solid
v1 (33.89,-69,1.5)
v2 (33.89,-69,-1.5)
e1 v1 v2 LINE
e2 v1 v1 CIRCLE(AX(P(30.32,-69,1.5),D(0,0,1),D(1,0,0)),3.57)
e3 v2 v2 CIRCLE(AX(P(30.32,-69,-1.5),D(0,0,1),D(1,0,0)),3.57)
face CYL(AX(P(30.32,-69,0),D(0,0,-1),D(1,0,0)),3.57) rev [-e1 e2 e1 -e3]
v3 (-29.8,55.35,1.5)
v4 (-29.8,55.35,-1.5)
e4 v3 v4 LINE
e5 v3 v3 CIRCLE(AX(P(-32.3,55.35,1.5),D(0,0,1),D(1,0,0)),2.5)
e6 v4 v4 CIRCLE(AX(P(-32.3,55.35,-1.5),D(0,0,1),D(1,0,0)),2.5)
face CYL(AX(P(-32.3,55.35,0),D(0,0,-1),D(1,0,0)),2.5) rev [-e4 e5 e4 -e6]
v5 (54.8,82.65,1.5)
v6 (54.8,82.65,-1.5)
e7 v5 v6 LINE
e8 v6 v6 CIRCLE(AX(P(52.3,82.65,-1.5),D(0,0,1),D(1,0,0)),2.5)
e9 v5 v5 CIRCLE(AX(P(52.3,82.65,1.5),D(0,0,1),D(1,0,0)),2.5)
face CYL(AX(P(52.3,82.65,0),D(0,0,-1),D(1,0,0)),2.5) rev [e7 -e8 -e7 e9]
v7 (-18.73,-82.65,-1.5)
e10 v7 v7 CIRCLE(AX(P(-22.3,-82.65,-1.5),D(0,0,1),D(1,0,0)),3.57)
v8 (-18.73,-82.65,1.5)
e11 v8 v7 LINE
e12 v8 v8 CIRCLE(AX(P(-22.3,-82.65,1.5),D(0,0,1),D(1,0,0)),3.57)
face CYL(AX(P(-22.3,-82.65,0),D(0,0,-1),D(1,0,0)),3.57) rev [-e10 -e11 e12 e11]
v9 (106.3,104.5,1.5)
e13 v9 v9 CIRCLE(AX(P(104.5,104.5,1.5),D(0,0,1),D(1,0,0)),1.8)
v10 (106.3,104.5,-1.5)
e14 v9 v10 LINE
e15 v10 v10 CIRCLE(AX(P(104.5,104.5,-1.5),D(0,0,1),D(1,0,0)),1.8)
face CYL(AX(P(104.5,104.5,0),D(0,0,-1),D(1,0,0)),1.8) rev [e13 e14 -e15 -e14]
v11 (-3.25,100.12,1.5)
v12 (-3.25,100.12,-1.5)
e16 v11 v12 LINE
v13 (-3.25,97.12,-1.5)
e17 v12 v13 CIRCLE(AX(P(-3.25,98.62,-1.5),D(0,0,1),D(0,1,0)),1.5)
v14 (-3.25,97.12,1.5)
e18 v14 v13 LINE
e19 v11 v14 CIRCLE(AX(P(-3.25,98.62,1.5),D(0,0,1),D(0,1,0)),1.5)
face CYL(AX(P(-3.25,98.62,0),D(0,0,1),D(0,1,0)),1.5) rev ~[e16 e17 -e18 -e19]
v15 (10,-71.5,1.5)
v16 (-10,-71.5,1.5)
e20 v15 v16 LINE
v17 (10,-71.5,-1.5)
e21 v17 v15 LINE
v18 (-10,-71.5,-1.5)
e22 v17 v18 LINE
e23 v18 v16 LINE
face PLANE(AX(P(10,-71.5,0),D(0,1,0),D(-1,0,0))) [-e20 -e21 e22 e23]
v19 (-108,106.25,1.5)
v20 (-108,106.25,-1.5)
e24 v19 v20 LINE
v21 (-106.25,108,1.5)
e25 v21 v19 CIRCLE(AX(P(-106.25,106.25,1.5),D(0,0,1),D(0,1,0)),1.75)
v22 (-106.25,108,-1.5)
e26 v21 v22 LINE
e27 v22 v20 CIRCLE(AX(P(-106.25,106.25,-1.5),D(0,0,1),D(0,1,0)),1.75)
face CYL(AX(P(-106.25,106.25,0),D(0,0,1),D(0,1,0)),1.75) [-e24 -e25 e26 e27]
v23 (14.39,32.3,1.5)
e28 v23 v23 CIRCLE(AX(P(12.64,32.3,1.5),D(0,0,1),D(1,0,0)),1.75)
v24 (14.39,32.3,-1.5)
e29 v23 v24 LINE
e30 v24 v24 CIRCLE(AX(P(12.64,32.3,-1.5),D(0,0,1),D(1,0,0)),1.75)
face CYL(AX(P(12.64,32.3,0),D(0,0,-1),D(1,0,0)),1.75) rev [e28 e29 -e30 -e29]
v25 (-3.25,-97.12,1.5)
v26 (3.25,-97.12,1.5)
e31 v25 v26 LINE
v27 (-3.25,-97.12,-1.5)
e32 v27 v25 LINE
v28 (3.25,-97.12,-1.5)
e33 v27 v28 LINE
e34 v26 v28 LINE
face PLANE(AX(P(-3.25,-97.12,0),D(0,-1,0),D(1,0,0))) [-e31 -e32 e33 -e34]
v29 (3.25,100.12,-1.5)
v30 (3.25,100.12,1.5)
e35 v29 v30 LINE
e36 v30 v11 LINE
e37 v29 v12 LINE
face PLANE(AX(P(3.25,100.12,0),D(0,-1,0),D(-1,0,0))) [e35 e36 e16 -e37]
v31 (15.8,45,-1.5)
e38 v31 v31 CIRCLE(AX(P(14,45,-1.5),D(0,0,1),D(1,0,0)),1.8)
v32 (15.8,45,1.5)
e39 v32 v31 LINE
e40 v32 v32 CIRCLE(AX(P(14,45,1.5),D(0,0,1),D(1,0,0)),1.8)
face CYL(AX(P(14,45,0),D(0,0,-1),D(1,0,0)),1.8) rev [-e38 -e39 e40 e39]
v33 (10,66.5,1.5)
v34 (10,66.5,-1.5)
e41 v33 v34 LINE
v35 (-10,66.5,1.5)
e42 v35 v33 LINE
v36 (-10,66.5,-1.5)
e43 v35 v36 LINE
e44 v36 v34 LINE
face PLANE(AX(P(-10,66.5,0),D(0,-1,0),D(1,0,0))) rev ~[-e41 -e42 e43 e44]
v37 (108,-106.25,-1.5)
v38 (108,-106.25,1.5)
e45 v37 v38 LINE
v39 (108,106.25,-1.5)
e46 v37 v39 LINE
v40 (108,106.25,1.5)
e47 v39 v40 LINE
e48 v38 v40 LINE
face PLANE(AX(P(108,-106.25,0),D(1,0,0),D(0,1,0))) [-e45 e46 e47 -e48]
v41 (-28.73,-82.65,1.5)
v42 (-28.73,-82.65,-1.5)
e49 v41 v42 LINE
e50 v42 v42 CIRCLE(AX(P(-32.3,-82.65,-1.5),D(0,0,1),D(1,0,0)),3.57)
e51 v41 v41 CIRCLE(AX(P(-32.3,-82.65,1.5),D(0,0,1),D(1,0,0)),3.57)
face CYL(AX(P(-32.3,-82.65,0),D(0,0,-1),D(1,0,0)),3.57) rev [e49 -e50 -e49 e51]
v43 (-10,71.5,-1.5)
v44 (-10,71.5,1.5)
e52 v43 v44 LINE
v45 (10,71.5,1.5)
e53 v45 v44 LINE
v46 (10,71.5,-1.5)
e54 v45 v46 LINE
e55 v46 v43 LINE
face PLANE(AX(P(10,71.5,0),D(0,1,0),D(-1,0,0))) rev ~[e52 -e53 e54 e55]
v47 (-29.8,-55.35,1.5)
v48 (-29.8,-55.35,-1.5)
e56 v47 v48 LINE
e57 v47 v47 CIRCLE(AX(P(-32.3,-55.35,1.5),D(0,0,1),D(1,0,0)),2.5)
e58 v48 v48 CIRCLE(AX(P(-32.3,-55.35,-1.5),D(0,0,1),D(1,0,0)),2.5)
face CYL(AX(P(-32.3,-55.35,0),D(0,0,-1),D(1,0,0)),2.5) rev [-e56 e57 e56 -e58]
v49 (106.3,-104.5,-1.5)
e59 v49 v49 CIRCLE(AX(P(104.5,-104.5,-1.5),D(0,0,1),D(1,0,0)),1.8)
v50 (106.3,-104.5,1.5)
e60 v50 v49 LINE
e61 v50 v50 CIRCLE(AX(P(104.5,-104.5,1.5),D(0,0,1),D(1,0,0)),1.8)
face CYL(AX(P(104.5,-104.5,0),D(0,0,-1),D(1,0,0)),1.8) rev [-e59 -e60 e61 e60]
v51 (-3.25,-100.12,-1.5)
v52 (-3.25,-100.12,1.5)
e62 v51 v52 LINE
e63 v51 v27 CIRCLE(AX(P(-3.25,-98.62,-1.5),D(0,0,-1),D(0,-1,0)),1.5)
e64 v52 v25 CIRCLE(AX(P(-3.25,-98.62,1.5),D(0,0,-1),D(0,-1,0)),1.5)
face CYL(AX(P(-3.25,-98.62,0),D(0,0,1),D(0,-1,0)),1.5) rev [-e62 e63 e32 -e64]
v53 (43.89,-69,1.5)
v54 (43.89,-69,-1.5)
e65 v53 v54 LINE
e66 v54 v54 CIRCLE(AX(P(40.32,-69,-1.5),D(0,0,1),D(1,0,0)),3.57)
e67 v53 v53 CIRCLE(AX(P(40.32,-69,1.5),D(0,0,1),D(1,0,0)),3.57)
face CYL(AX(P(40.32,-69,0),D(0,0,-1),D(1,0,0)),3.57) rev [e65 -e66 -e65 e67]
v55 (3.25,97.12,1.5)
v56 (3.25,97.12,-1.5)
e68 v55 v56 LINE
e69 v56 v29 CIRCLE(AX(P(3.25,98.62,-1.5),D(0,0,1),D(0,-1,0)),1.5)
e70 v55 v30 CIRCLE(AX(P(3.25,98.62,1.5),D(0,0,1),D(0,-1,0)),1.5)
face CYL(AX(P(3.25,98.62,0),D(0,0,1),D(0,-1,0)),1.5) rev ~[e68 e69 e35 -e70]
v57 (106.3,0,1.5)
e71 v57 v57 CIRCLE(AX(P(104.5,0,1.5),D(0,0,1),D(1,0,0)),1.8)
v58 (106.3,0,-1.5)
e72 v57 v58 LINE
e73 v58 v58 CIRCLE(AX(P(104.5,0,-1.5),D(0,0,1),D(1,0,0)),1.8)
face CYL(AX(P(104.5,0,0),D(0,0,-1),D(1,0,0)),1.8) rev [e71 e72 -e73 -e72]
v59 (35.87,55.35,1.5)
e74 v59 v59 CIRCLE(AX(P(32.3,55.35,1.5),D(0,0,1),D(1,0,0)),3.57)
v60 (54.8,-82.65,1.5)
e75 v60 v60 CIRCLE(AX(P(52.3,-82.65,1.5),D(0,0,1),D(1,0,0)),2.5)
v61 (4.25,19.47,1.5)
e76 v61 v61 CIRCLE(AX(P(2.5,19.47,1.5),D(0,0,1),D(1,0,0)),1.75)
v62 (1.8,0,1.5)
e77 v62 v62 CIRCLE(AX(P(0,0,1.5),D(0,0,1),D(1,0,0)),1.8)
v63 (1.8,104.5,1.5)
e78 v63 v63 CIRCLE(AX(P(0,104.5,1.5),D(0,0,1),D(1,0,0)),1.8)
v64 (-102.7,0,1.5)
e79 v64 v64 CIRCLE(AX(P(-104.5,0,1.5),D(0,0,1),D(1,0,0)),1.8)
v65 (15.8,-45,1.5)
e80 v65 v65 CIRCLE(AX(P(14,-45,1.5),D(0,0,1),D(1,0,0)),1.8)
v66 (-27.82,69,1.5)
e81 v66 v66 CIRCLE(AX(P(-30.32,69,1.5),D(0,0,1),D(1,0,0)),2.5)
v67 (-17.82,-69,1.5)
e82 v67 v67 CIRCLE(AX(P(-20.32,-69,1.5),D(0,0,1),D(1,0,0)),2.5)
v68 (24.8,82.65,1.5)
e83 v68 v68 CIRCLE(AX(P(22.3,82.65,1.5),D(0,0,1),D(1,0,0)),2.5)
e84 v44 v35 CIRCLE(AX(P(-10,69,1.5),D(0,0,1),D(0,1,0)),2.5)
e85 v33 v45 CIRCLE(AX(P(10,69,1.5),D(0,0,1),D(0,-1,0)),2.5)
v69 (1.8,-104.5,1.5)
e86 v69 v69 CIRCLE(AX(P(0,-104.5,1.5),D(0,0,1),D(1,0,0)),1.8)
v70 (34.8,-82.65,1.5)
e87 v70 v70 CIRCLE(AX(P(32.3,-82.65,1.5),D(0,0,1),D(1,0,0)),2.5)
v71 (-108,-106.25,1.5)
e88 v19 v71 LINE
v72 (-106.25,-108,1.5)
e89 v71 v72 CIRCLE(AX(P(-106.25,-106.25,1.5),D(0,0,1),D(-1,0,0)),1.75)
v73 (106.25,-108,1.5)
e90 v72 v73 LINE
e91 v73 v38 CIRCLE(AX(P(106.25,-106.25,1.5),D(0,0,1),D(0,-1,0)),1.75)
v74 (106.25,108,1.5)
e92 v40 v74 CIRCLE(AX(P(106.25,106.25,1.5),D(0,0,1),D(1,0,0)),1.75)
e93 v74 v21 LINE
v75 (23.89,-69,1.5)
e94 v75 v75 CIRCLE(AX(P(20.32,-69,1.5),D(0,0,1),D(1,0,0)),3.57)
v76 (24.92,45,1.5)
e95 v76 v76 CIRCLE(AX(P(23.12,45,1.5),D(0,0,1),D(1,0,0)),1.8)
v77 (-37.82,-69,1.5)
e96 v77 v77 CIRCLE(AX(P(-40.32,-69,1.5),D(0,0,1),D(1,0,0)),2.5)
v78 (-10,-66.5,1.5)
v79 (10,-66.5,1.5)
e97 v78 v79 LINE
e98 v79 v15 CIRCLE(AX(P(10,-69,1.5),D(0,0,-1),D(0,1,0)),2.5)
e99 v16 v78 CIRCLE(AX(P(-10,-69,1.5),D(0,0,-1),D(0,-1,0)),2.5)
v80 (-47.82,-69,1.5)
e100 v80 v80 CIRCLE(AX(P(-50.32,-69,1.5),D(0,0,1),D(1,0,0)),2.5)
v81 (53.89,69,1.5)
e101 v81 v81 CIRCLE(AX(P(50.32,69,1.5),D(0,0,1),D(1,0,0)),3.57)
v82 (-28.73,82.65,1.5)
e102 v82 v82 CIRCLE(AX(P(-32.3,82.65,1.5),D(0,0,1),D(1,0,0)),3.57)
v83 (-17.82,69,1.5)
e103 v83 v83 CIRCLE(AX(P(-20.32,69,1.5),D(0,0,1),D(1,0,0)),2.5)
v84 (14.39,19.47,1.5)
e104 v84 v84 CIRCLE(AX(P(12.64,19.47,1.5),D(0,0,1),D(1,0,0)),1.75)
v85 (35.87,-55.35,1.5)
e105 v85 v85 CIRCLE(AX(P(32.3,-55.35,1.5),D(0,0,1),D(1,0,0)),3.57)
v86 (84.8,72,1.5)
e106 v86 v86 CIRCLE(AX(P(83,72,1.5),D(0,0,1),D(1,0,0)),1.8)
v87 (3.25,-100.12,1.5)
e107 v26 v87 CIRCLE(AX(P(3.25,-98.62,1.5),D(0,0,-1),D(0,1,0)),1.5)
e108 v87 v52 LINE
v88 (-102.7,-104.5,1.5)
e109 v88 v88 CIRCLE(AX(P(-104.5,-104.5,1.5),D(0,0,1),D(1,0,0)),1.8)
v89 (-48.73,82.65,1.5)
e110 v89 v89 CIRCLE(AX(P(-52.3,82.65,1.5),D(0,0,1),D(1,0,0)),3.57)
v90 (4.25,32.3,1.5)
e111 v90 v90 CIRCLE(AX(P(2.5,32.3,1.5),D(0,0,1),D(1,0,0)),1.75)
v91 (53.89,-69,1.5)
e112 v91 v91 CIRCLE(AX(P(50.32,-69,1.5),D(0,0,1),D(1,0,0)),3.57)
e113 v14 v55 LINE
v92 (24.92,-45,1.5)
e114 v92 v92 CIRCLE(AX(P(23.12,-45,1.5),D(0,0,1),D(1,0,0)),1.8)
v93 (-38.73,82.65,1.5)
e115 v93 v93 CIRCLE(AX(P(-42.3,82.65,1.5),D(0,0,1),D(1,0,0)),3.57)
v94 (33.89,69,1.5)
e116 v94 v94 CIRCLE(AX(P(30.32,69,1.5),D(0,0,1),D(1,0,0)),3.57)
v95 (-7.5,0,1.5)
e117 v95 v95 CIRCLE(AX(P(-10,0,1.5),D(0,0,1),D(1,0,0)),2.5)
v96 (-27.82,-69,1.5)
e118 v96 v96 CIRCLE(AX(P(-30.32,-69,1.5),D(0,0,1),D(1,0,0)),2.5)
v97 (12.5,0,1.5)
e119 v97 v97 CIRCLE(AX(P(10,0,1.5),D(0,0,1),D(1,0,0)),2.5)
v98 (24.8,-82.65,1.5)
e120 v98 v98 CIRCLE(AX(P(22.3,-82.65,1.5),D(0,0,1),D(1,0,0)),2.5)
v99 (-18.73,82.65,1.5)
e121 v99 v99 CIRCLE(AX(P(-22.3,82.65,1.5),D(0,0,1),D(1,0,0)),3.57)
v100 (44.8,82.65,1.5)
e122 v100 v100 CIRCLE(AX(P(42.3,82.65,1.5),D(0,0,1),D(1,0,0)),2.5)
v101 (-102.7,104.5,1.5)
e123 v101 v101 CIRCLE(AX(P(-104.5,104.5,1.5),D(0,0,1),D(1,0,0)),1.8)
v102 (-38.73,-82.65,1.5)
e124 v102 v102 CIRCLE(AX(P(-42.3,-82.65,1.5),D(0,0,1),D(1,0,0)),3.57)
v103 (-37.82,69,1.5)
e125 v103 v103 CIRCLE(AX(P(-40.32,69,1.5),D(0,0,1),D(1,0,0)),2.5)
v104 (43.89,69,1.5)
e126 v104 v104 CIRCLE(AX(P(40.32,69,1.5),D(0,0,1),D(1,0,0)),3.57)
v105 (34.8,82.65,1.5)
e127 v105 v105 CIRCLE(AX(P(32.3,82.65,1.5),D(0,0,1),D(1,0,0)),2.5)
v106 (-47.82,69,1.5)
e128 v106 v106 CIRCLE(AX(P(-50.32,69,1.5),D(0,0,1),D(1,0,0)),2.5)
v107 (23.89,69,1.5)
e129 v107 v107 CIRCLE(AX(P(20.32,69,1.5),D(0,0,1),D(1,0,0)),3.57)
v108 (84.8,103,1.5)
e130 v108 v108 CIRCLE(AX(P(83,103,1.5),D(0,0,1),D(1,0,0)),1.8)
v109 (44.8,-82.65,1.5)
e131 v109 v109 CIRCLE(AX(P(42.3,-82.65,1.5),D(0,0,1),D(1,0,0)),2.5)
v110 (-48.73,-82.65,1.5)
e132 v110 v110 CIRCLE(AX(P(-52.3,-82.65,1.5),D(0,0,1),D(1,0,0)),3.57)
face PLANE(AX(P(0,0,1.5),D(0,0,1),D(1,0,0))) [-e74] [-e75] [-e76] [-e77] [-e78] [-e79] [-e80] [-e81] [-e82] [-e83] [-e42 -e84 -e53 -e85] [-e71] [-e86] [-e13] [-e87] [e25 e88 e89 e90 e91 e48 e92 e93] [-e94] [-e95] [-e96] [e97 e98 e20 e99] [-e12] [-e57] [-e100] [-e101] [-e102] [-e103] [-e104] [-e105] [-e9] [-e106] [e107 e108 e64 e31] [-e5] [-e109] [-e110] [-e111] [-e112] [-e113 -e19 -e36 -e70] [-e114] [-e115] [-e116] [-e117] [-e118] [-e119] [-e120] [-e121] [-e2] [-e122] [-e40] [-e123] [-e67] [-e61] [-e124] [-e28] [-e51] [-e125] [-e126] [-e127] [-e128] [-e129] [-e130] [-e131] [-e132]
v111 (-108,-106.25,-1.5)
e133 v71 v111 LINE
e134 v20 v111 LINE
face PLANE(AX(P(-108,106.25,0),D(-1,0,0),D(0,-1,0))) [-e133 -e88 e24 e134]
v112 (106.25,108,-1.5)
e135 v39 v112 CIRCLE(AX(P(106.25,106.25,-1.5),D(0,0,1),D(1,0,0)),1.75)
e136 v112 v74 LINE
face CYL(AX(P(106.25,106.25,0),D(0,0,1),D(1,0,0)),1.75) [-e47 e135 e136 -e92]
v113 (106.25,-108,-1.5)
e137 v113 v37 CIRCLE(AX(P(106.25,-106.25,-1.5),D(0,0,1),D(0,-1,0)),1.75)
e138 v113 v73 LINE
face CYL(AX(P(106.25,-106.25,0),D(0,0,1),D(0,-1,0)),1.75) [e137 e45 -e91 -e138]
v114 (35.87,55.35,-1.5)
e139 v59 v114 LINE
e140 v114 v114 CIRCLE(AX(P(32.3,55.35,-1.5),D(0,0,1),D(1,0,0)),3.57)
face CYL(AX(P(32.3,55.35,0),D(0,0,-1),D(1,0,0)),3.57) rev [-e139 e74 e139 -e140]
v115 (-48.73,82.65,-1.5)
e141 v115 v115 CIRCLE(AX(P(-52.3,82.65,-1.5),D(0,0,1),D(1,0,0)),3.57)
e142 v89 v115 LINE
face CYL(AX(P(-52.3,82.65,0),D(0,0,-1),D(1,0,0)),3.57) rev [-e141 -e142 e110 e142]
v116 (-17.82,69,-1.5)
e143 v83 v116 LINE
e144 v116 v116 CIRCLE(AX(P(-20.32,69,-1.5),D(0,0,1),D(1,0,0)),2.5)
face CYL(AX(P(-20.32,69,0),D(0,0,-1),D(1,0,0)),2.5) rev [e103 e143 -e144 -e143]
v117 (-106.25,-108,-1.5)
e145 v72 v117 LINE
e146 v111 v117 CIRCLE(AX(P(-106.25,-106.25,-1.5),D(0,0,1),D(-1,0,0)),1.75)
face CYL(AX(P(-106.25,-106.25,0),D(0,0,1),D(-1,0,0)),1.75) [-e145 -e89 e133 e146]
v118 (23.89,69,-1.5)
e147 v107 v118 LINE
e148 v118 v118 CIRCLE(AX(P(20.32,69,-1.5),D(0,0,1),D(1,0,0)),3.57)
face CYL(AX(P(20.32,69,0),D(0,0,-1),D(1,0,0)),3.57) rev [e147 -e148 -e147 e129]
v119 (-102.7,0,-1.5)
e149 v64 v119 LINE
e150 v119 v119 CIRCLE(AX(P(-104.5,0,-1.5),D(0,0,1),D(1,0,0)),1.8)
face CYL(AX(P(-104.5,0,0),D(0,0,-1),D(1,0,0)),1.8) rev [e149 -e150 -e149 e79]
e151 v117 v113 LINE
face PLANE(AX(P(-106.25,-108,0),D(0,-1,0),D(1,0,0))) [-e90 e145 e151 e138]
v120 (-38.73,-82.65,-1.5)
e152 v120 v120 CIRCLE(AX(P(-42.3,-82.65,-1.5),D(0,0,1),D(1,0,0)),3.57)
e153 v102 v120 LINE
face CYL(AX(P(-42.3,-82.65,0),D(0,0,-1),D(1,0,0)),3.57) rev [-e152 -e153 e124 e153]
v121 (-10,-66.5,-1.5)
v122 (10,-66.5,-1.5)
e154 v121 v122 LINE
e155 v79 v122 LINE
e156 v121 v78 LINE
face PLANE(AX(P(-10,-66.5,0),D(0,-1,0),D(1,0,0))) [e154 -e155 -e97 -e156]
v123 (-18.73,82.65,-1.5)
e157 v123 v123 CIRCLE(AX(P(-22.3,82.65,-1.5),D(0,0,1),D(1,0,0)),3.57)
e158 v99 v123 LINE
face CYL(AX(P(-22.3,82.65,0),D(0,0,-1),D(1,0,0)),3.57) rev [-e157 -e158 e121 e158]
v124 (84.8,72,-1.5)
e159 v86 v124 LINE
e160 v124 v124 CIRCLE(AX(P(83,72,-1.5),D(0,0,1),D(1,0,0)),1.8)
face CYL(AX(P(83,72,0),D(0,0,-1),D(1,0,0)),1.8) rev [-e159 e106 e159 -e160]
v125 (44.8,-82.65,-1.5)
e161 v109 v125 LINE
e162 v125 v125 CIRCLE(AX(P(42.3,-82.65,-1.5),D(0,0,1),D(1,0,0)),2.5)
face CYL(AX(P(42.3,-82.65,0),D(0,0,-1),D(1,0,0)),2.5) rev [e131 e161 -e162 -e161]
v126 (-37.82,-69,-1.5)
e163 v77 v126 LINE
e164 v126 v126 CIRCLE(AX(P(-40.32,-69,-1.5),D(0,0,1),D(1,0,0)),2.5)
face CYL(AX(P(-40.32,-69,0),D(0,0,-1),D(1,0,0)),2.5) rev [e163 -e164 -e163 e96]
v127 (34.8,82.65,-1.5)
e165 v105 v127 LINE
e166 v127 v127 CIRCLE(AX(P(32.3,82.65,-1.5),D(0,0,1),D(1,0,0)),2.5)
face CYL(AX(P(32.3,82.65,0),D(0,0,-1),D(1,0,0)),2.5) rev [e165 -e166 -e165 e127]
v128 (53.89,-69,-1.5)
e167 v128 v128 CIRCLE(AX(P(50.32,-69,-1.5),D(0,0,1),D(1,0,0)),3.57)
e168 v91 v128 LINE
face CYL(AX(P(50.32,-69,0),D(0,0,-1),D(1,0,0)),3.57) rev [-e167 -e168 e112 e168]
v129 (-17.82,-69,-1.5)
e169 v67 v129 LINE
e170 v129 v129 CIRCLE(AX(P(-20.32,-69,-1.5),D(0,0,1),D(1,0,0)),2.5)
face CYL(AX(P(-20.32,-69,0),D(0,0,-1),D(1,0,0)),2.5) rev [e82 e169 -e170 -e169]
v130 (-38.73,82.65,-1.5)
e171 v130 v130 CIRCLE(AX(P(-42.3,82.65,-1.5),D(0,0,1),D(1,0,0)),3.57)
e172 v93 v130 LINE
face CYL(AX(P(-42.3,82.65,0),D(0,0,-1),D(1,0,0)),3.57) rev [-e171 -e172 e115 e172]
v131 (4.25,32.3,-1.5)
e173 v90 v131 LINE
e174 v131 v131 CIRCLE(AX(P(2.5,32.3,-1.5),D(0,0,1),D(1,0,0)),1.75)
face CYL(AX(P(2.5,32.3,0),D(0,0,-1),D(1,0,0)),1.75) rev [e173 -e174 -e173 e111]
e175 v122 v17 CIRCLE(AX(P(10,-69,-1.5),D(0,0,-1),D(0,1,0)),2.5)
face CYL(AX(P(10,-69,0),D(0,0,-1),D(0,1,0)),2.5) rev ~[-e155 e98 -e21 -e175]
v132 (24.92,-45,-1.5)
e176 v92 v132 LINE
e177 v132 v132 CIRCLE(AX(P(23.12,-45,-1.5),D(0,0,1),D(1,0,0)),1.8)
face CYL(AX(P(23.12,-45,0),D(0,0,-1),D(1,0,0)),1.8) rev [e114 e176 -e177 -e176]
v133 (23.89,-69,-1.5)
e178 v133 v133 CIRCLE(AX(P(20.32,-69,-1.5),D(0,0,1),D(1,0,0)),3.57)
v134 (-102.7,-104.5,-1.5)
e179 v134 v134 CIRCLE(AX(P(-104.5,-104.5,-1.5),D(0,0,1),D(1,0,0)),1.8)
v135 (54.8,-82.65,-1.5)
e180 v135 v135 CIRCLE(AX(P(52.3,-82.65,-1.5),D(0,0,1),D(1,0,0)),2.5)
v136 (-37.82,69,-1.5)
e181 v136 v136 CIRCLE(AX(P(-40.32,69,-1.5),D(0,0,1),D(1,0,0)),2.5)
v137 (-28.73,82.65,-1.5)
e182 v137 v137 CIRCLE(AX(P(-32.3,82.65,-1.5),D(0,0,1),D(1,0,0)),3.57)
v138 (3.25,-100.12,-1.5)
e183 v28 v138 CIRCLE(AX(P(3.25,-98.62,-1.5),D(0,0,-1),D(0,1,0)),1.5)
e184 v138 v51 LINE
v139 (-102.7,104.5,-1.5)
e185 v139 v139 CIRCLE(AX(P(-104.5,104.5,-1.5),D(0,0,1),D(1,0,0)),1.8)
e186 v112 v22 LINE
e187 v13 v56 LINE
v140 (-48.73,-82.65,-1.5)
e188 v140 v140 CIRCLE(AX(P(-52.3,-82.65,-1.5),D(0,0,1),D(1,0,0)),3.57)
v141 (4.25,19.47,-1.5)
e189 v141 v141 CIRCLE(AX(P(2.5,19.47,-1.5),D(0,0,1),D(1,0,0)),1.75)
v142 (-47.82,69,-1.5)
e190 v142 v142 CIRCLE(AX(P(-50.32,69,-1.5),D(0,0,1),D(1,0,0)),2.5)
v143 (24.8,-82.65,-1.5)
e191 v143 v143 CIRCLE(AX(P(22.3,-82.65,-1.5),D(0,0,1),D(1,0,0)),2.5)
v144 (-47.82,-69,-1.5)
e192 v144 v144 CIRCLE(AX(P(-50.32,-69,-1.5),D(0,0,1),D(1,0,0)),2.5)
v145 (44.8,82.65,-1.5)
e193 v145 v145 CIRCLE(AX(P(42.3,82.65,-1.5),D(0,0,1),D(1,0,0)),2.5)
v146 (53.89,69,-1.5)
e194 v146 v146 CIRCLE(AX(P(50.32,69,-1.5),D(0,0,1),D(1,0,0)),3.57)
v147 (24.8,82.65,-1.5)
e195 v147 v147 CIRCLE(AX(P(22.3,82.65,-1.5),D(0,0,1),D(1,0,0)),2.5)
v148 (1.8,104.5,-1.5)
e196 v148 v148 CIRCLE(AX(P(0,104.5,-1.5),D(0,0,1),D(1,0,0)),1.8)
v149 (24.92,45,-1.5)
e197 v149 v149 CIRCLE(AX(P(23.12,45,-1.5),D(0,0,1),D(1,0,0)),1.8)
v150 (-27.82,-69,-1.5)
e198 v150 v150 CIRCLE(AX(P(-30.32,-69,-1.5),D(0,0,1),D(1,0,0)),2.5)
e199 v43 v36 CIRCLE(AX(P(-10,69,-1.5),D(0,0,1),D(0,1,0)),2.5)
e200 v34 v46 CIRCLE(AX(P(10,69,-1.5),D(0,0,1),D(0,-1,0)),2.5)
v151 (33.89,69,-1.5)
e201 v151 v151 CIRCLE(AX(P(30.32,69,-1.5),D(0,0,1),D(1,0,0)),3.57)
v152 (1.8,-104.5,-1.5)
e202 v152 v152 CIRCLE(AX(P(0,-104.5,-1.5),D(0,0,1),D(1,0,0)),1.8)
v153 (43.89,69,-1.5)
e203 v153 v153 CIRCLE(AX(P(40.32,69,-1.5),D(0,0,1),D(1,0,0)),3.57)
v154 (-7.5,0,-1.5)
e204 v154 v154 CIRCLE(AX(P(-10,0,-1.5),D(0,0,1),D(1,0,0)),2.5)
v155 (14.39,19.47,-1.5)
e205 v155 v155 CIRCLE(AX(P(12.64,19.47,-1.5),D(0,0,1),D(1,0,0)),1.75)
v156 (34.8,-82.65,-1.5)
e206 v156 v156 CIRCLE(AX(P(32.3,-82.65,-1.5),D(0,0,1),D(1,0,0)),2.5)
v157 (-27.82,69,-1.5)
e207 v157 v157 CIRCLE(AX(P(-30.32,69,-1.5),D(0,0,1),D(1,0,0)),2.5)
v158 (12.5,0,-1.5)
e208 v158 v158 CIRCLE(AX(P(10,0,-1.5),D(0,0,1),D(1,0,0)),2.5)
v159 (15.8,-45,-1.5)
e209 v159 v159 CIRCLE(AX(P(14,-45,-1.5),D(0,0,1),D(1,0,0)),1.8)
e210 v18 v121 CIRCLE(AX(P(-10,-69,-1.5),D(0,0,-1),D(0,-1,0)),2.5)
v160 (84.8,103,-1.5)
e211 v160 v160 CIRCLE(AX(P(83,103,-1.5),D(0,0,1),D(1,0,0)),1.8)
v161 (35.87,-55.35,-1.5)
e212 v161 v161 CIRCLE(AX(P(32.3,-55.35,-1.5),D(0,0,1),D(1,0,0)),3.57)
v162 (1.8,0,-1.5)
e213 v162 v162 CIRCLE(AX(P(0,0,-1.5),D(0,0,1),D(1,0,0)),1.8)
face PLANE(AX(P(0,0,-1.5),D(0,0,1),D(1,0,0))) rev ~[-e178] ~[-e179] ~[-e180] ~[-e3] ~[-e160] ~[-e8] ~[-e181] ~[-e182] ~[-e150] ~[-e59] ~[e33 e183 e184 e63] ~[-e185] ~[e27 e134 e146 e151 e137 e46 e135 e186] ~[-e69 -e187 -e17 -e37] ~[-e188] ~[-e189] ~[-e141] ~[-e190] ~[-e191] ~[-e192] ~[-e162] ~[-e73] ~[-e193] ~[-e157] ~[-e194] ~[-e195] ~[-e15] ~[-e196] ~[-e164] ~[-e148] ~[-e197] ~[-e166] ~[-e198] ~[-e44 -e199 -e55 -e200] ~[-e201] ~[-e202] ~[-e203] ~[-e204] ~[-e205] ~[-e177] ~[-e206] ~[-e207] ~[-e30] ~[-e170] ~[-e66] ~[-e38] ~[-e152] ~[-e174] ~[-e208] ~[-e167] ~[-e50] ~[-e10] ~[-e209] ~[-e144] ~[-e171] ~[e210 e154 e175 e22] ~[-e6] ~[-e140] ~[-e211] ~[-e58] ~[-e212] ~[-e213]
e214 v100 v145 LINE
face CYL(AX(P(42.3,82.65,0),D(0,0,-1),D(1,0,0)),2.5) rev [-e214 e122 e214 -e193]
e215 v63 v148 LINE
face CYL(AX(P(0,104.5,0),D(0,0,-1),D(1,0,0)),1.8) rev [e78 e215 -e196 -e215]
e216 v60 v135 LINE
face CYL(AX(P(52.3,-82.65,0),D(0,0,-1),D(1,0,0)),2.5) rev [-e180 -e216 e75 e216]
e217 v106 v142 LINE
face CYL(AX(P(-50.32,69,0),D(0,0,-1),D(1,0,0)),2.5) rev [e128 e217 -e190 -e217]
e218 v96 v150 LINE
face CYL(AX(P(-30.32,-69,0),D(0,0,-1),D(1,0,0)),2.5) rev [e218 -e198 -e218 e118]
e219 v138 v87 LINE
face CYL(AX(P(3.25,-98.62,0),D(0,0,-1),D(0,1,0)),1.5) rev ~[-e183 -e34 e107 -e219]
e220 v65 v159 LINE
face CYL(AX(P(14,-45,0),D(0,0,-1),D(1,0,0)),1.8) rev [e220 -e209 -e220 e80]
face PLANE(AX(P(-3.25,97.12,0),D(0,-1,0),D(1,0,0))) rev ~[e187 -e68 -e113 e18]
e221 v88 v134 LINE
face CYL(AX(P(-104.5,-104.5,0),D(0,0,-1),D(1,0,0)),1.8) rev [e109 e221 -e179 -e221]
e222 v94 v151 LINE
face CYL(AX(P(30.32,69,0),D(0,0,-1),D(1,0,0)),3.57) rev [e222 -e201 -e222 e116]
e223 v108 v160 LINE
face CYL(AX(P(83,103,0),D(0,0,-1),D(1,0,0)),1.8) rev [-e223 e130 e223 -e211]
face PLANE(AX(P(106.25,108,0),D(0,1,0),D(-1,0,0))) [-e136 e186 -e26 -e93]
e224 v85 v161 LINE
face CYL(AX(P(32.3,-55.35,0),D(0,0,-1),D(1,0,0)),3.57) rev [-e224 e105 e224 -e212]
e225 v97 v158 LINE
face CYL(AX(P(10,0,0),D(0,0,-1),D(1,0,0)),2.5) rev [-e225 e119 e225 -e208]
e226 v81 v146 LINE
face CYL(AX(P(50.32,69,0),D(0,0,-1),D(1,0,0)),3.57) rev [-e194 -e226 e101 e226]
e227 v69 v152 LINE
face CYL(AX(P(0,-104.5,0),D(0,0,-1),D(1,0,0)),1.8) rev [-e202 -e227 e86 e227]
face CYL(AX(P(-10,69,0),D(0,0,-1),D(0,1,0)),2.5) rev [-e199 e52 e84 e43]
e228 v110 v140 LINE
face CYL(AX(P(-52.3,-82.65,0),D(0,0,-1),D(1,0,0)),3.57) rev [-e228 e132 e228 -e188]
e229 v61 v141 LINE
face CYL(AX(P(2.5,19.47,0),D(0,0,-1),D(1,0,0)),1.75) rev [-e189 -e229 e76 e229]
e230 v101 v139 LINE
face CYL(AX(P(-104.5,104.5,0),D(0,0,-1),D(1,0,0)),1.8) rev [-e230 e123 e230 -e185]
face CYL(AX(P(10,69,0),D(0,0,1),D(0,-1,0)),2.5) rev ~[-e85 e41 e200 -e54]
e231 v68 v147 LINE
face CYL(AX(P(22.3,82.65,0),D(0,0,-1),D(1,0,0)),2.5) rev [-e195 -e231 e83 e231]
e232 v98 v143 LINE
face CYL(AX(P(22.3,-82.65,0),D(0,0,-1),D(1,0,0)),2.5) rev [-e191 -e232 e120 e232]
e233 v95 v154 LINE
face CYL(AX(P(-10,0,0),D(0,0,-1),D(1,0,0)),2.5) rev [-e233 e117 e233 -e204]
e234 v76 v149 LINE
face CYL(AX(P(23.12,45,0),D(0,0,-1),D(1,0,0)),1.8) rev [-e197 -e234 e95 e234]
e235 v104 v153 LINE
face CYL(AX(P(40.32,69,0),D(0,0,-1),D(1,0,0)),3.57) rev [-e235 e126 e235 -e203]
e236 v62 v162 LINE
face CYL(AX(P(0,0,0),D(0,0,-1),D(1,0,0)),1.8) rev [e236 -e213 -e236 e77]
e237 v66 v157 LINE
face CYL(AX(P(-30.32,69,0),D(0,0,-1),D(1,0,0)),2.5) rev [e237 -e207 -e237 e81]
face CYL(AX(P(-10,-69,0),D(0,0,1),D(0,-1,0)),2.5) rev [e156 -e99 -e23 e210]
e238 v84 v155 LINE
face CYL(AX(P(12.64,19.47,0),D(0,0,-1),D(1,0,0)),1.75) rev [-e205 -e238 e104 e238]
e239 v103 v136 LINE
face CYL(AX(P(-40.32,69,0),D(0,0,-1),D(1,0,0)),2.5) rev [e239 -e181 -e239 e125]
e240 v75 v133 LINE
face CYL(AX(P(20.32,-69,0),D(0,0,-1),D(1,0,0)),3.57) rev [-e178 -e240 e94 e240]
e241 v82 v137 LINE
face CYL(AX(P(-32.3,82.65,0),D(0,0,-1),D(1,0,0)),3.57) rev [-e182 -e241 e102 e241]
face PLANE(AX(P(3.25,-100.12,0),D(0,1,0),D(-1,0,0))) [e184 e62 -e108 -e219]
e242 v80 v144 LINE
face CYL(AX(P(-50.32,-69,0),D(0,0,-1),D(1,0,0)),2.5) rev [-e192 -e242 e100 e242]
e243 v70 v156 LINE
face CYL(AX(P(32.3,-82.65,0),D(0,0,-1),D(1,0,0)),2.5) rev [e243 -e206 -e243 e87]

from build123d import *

# Parameters (mm, degrees)
SKETCH1_R           = 1.8
SKETCH1_R_2         = 3.57
SKETCH1_R_3         = 2.5
SKETCH1_R_4         = 1.75
BOSS_EXTRUDE1_DEPTH = 1.5


with BuildPart() as part:
    # Sketch1 → Boss-Extrude1 (new body, symmetric)
    with BuildSketch(Plane.XY):
        with BuildLine():
            Line((-106.25, -108), (106.25, -108))
            ThreePointArc((106.25, -108), (107.487436867, -107.487436867), (108, -106.25))
            Line((108, -106.25), (108, 106.25))
            ThreePointArc((108, 106.25), (107.487436867, 107.487436867), (106.25, 108))
            Line((106.25, 108), (-106.25, 108))
            ThreePointArc((-106.25, 108), (-107.487436867, 107.487436867), (-108, 106.25))
            Line((-108, 106.25), (-108, -106.25))
            ThreePointArc((-108, -106.25), (-107.487436867, -107.487436867), (-106.25, -108))
        make_face()
        with Locations((-104.5, 104.5)):
            Circle(SKETCH1_R, mode=Mode.SUBTRACT)
        with Locations((0, 104.5)):
            Circle(SKETCH1_R, mode=Mode.SUBTRACT)
        with Locations((104.5, 104.5)):
            Circle(SKETCH1_R, mode=Mode.SUBTRACT)
        with Locations((-104.5, 0)):
            Circle(SKETCH1_R, mode=Mode.SUBTRACT)
        Circle(SKETCH1_R, mode=Mode.SUBTRACT)
        with Locations((104.5, 0)):
            Circle(SKETCH1_R, mode=Mode.SUBTRACT)
        with Locations((-104.5, -104.5)):
            Circle(SKETCH1_R, mode=Mode.SUBTRACT)
        with Locations((0, -104.5)):
            Circle(SKETCH1_R, mode=Mode.SUBTRACT)
        with Locations((104.5, -104.5)):
            Circle(SKETCH1_R, mode=Mode.SUBTRACT)
        with Locations((-52.3, -82.65)):
            Circle(SKETCH1_R_2, mode=Mode.SUBTRACT)
        with Locations((-42.3, -82.65)):
            Circle(SKETCH1_R_2, mode=Mode.SUBTRACT)
        with Locations((-32.3, -82.65)):
            Circle(SKETCH1_R_2, mode=Mode.SUBTRACT)
        with Locations((-22.3, -82.65)):
            Circle(SKETCH1_R_2, mode=Mode.SUBTRACT)
        with Locations((-50.32, -69)):
            Circle(SKETCH1_R_3, mode=Mode.SUBTRACT)
        with Locations((-40.32, -69)):
            Circle(SKETCH1_R_3, mode=Mode.SUBTRACT)
        with Locations((-30.32, -69)):
            Circle(SKETCH1_R_3, mode=Mode.SUBTRACT)
        with Locations((-20.32, -69)):
            Circle(SKETCH1_R_3, mode=Mode.SUBTRACT)
        with Locations((42.3, -82.65)):
            Circle(SKETCH1_R_3, mode=Mode.SUBTRACT)
        with Locations((32.3, -82.65)):
            Circle(SKETCH1_R_3, mode=Mode.SUBTRACT)
        with Locations((22.3, -82.65)):
            Circle(SKETCH1_R_3, mode=Mode.SUBTRACT)
        with Locations((52.3, -82.65)):
            Circle(SKETCH1_R_3, mode=Mode.SUBTRACT)
        with Locations((50.32, -69)):
            Circle(SKETCH1_R_2, mode=Mode.SUBTRACT)
        with Locations((40.32, -69)):
            Circle(SKETCH1_R_2, mode=Mode.SUBTRACT)
        with Locations((30.32, -69)):
            Circle(SKETCH1_R_2, mode=Mode.SUBTRACT)
        with Locations((20.32, -69)):
            Circle(SKETCH1_R_2, mode=Mode.SUBTRACT)
        with Locations((-32.3, -55.35)):
            Circle(SKETCH1_R_3, mode=Mode.SUBTRACT)
        with Locations((32.3, -55.35)):
            Circle(SKETCH1_R_2, mode=Mode.SUBTRACT)
        with Locations((14, -45)):
            Circle(SKETCH1_R, mode=Mode.SUBTRACT)
        with Locations((23.12, -45)):
            Circle(SKETCH1_R, mode=Mode.SUBTRACT)
        with Locations((-10, 0)):
            Circle(SKETCH1_R_3, mode=Mode.SUBTRACT)
        with Locations((10, 0)):
            Circle(SKETCH1_R_3, mode=Mode.SUBTRACT)
        with Locations((2.5, 32.3)):
            Circle(SKETCH1_R_4, mode=Mode.SUBTRACT)
        with Locations((12.64, 32.3)):
            Circle(SKETCH1_R_4, mode=Mode.SUBTRACT)
        with Locations((2.5, 19.47)):
            Circle(SKETCH1_R_4, mode=Mode.SUBTRACT)
        with Locations((12.64, 19.47)):
            Circle(SKETCH1_R_4, mode=Mode.SUBTRACT)
        with Locations((23.12, 45)):
            Circle(SKETCH1_R, mode=Mode.SUBTRACT)
        with Locations((14, 45)):
            Circle(SKETCH1_R, mode=Mode.SUBTRACT)
        with Locations((32.3, 55.35)):
            Circle(SKETCH1_R_2, mode=Mode.SUBTRACT)
        with Locations((-32.3, 55.35)):
            Circle(SKETCH1_R_3, mode=Mode.SUBTRACT)
        with Locations((20.32, 69)):
            Circle(SKETCH1_R_2, mode=Mode.SUBTRACT)
        with Locations((30.32, 69)):
            Circle(SKETCH1_R_2, mode=Mode.SUBTRACT)
        with Locations((40.32, 69)):
            Circle(SKETCH1_R_2, mode=Mode.SUBTRACT)
        with Locations((50.32, 69)):
            Circle(SKETCH1_R_2, mode=Mode.SUBTRACT)
        with Locations((52.3, 82.65)):
            Circle(SKETCH1_R_3, mode=Mode.SUBTRACT)
        with Locations((22.3, 82.65)):
            Circle(SKETCH1_R_3, mode=Mode.SUBTRACT)
        with Locations((32.3, 82.65)):
            Circle(SKETCH1_R_3, mode=Mode.SUBTRACT)
        with Locations((42.3, 82.65)):
            Circle(SKETCH1_R_3, mode=Mode.SUBTRACT)
        with Locations((-20.32, 69)):
            Circle(SKETCH1_R_3, mode=Mode.SUBTRACT)
        with Locations((-30.32, 69)):
            Circle(SKETCH1_R_3, mode=Mode.SUBTRACT)
        with Locations((-40.32, 69)):
            Circle(SKETCH1_R_3, mode=Mode.SUBTRACT)
        with Locations((-50.32, 69)):
            Circle(SKETCH1_R_3, mode=Mode.SUBTRACT)
        with Locations((-22.3, 82.65)):
            Circle(SKETCH1_R_2, mode=Mode.SUBTRACT)
        with Locations((-32.3, 82.65)):
            Circle(SKETCH1_R_2, mode=Mode.SUBTRACT)
        with Locations((-42.3, 82.65)):
            Circle(SKETCH1_R_2, mode=Mode.SUBTRACT)
        with Locations((-52.3, 82.65)):
            Circle(SKETCH1_R_2, mode=Mode.SUBTRACT)
        with Locations((83, 103)):
            Circle(SKETCH1_R, mode=Mode.SUBTRACT)
        with Locations((83, 72)):
            Circle(SKETCH1_R, mode=Mode.SUBTRACT)
        with BuildLine():
            Line((-3.25, -97.12), (3.25, -97.12))
            ThreePointArc((3.25, -97.12), (4.75, -98.62), (3.25, -100.12))
            Line((3.25, -100.12), (-3.25, -100.12))
            ThreePointArc((-3.25, -100.12), (-4.75, -98.62), (-3.25, -97.12))
        make_face(mode=Mode.SUBTRACT)
        with BuildLine():
            Line((-10, -66.5), (10, -66.5))
            ThreePointArc((10, -66.5), (12.5, -69), (10, -71.5))
            Line((10, -71.5), (-10, -71.5))
            ThreePointArc((-10, -71.5), (-12.5, -69), (-10, -66.5))
        make_face(mode=Mode.SUBTRACT)
        with BuildLine():
            Line((-3.25, 97.12), (3.25, 97.12))
            ThreePointArc((3.25, 97.12), (4.75, 98.62), (3.25, 100.12))
            Line((3.25, 100.12), (-3.25, 100.12))
            ThreePointArc((-3.25, 100.12), (-4.75, 98.62), (-3.25, 97.12))
        make_face(mode=Mode.SUBTRACT)
        with BuildLine():
            Line((-10, 66.5), (10, 66.5))
            ThreePointArc((10, 66.5), (12.5, 69), (10, 71.5))
            Line((10, 71.5), (-10, 71.5))
            ThreePointArc((-10, 71.5), (-12.5, 69), (-10, 66.5))
        make_face(mode=Mode.SUBTRACT)
    extrude(amount=BOSS_EXTRUDE1_DEPTH, both=True)


solid = part.part
